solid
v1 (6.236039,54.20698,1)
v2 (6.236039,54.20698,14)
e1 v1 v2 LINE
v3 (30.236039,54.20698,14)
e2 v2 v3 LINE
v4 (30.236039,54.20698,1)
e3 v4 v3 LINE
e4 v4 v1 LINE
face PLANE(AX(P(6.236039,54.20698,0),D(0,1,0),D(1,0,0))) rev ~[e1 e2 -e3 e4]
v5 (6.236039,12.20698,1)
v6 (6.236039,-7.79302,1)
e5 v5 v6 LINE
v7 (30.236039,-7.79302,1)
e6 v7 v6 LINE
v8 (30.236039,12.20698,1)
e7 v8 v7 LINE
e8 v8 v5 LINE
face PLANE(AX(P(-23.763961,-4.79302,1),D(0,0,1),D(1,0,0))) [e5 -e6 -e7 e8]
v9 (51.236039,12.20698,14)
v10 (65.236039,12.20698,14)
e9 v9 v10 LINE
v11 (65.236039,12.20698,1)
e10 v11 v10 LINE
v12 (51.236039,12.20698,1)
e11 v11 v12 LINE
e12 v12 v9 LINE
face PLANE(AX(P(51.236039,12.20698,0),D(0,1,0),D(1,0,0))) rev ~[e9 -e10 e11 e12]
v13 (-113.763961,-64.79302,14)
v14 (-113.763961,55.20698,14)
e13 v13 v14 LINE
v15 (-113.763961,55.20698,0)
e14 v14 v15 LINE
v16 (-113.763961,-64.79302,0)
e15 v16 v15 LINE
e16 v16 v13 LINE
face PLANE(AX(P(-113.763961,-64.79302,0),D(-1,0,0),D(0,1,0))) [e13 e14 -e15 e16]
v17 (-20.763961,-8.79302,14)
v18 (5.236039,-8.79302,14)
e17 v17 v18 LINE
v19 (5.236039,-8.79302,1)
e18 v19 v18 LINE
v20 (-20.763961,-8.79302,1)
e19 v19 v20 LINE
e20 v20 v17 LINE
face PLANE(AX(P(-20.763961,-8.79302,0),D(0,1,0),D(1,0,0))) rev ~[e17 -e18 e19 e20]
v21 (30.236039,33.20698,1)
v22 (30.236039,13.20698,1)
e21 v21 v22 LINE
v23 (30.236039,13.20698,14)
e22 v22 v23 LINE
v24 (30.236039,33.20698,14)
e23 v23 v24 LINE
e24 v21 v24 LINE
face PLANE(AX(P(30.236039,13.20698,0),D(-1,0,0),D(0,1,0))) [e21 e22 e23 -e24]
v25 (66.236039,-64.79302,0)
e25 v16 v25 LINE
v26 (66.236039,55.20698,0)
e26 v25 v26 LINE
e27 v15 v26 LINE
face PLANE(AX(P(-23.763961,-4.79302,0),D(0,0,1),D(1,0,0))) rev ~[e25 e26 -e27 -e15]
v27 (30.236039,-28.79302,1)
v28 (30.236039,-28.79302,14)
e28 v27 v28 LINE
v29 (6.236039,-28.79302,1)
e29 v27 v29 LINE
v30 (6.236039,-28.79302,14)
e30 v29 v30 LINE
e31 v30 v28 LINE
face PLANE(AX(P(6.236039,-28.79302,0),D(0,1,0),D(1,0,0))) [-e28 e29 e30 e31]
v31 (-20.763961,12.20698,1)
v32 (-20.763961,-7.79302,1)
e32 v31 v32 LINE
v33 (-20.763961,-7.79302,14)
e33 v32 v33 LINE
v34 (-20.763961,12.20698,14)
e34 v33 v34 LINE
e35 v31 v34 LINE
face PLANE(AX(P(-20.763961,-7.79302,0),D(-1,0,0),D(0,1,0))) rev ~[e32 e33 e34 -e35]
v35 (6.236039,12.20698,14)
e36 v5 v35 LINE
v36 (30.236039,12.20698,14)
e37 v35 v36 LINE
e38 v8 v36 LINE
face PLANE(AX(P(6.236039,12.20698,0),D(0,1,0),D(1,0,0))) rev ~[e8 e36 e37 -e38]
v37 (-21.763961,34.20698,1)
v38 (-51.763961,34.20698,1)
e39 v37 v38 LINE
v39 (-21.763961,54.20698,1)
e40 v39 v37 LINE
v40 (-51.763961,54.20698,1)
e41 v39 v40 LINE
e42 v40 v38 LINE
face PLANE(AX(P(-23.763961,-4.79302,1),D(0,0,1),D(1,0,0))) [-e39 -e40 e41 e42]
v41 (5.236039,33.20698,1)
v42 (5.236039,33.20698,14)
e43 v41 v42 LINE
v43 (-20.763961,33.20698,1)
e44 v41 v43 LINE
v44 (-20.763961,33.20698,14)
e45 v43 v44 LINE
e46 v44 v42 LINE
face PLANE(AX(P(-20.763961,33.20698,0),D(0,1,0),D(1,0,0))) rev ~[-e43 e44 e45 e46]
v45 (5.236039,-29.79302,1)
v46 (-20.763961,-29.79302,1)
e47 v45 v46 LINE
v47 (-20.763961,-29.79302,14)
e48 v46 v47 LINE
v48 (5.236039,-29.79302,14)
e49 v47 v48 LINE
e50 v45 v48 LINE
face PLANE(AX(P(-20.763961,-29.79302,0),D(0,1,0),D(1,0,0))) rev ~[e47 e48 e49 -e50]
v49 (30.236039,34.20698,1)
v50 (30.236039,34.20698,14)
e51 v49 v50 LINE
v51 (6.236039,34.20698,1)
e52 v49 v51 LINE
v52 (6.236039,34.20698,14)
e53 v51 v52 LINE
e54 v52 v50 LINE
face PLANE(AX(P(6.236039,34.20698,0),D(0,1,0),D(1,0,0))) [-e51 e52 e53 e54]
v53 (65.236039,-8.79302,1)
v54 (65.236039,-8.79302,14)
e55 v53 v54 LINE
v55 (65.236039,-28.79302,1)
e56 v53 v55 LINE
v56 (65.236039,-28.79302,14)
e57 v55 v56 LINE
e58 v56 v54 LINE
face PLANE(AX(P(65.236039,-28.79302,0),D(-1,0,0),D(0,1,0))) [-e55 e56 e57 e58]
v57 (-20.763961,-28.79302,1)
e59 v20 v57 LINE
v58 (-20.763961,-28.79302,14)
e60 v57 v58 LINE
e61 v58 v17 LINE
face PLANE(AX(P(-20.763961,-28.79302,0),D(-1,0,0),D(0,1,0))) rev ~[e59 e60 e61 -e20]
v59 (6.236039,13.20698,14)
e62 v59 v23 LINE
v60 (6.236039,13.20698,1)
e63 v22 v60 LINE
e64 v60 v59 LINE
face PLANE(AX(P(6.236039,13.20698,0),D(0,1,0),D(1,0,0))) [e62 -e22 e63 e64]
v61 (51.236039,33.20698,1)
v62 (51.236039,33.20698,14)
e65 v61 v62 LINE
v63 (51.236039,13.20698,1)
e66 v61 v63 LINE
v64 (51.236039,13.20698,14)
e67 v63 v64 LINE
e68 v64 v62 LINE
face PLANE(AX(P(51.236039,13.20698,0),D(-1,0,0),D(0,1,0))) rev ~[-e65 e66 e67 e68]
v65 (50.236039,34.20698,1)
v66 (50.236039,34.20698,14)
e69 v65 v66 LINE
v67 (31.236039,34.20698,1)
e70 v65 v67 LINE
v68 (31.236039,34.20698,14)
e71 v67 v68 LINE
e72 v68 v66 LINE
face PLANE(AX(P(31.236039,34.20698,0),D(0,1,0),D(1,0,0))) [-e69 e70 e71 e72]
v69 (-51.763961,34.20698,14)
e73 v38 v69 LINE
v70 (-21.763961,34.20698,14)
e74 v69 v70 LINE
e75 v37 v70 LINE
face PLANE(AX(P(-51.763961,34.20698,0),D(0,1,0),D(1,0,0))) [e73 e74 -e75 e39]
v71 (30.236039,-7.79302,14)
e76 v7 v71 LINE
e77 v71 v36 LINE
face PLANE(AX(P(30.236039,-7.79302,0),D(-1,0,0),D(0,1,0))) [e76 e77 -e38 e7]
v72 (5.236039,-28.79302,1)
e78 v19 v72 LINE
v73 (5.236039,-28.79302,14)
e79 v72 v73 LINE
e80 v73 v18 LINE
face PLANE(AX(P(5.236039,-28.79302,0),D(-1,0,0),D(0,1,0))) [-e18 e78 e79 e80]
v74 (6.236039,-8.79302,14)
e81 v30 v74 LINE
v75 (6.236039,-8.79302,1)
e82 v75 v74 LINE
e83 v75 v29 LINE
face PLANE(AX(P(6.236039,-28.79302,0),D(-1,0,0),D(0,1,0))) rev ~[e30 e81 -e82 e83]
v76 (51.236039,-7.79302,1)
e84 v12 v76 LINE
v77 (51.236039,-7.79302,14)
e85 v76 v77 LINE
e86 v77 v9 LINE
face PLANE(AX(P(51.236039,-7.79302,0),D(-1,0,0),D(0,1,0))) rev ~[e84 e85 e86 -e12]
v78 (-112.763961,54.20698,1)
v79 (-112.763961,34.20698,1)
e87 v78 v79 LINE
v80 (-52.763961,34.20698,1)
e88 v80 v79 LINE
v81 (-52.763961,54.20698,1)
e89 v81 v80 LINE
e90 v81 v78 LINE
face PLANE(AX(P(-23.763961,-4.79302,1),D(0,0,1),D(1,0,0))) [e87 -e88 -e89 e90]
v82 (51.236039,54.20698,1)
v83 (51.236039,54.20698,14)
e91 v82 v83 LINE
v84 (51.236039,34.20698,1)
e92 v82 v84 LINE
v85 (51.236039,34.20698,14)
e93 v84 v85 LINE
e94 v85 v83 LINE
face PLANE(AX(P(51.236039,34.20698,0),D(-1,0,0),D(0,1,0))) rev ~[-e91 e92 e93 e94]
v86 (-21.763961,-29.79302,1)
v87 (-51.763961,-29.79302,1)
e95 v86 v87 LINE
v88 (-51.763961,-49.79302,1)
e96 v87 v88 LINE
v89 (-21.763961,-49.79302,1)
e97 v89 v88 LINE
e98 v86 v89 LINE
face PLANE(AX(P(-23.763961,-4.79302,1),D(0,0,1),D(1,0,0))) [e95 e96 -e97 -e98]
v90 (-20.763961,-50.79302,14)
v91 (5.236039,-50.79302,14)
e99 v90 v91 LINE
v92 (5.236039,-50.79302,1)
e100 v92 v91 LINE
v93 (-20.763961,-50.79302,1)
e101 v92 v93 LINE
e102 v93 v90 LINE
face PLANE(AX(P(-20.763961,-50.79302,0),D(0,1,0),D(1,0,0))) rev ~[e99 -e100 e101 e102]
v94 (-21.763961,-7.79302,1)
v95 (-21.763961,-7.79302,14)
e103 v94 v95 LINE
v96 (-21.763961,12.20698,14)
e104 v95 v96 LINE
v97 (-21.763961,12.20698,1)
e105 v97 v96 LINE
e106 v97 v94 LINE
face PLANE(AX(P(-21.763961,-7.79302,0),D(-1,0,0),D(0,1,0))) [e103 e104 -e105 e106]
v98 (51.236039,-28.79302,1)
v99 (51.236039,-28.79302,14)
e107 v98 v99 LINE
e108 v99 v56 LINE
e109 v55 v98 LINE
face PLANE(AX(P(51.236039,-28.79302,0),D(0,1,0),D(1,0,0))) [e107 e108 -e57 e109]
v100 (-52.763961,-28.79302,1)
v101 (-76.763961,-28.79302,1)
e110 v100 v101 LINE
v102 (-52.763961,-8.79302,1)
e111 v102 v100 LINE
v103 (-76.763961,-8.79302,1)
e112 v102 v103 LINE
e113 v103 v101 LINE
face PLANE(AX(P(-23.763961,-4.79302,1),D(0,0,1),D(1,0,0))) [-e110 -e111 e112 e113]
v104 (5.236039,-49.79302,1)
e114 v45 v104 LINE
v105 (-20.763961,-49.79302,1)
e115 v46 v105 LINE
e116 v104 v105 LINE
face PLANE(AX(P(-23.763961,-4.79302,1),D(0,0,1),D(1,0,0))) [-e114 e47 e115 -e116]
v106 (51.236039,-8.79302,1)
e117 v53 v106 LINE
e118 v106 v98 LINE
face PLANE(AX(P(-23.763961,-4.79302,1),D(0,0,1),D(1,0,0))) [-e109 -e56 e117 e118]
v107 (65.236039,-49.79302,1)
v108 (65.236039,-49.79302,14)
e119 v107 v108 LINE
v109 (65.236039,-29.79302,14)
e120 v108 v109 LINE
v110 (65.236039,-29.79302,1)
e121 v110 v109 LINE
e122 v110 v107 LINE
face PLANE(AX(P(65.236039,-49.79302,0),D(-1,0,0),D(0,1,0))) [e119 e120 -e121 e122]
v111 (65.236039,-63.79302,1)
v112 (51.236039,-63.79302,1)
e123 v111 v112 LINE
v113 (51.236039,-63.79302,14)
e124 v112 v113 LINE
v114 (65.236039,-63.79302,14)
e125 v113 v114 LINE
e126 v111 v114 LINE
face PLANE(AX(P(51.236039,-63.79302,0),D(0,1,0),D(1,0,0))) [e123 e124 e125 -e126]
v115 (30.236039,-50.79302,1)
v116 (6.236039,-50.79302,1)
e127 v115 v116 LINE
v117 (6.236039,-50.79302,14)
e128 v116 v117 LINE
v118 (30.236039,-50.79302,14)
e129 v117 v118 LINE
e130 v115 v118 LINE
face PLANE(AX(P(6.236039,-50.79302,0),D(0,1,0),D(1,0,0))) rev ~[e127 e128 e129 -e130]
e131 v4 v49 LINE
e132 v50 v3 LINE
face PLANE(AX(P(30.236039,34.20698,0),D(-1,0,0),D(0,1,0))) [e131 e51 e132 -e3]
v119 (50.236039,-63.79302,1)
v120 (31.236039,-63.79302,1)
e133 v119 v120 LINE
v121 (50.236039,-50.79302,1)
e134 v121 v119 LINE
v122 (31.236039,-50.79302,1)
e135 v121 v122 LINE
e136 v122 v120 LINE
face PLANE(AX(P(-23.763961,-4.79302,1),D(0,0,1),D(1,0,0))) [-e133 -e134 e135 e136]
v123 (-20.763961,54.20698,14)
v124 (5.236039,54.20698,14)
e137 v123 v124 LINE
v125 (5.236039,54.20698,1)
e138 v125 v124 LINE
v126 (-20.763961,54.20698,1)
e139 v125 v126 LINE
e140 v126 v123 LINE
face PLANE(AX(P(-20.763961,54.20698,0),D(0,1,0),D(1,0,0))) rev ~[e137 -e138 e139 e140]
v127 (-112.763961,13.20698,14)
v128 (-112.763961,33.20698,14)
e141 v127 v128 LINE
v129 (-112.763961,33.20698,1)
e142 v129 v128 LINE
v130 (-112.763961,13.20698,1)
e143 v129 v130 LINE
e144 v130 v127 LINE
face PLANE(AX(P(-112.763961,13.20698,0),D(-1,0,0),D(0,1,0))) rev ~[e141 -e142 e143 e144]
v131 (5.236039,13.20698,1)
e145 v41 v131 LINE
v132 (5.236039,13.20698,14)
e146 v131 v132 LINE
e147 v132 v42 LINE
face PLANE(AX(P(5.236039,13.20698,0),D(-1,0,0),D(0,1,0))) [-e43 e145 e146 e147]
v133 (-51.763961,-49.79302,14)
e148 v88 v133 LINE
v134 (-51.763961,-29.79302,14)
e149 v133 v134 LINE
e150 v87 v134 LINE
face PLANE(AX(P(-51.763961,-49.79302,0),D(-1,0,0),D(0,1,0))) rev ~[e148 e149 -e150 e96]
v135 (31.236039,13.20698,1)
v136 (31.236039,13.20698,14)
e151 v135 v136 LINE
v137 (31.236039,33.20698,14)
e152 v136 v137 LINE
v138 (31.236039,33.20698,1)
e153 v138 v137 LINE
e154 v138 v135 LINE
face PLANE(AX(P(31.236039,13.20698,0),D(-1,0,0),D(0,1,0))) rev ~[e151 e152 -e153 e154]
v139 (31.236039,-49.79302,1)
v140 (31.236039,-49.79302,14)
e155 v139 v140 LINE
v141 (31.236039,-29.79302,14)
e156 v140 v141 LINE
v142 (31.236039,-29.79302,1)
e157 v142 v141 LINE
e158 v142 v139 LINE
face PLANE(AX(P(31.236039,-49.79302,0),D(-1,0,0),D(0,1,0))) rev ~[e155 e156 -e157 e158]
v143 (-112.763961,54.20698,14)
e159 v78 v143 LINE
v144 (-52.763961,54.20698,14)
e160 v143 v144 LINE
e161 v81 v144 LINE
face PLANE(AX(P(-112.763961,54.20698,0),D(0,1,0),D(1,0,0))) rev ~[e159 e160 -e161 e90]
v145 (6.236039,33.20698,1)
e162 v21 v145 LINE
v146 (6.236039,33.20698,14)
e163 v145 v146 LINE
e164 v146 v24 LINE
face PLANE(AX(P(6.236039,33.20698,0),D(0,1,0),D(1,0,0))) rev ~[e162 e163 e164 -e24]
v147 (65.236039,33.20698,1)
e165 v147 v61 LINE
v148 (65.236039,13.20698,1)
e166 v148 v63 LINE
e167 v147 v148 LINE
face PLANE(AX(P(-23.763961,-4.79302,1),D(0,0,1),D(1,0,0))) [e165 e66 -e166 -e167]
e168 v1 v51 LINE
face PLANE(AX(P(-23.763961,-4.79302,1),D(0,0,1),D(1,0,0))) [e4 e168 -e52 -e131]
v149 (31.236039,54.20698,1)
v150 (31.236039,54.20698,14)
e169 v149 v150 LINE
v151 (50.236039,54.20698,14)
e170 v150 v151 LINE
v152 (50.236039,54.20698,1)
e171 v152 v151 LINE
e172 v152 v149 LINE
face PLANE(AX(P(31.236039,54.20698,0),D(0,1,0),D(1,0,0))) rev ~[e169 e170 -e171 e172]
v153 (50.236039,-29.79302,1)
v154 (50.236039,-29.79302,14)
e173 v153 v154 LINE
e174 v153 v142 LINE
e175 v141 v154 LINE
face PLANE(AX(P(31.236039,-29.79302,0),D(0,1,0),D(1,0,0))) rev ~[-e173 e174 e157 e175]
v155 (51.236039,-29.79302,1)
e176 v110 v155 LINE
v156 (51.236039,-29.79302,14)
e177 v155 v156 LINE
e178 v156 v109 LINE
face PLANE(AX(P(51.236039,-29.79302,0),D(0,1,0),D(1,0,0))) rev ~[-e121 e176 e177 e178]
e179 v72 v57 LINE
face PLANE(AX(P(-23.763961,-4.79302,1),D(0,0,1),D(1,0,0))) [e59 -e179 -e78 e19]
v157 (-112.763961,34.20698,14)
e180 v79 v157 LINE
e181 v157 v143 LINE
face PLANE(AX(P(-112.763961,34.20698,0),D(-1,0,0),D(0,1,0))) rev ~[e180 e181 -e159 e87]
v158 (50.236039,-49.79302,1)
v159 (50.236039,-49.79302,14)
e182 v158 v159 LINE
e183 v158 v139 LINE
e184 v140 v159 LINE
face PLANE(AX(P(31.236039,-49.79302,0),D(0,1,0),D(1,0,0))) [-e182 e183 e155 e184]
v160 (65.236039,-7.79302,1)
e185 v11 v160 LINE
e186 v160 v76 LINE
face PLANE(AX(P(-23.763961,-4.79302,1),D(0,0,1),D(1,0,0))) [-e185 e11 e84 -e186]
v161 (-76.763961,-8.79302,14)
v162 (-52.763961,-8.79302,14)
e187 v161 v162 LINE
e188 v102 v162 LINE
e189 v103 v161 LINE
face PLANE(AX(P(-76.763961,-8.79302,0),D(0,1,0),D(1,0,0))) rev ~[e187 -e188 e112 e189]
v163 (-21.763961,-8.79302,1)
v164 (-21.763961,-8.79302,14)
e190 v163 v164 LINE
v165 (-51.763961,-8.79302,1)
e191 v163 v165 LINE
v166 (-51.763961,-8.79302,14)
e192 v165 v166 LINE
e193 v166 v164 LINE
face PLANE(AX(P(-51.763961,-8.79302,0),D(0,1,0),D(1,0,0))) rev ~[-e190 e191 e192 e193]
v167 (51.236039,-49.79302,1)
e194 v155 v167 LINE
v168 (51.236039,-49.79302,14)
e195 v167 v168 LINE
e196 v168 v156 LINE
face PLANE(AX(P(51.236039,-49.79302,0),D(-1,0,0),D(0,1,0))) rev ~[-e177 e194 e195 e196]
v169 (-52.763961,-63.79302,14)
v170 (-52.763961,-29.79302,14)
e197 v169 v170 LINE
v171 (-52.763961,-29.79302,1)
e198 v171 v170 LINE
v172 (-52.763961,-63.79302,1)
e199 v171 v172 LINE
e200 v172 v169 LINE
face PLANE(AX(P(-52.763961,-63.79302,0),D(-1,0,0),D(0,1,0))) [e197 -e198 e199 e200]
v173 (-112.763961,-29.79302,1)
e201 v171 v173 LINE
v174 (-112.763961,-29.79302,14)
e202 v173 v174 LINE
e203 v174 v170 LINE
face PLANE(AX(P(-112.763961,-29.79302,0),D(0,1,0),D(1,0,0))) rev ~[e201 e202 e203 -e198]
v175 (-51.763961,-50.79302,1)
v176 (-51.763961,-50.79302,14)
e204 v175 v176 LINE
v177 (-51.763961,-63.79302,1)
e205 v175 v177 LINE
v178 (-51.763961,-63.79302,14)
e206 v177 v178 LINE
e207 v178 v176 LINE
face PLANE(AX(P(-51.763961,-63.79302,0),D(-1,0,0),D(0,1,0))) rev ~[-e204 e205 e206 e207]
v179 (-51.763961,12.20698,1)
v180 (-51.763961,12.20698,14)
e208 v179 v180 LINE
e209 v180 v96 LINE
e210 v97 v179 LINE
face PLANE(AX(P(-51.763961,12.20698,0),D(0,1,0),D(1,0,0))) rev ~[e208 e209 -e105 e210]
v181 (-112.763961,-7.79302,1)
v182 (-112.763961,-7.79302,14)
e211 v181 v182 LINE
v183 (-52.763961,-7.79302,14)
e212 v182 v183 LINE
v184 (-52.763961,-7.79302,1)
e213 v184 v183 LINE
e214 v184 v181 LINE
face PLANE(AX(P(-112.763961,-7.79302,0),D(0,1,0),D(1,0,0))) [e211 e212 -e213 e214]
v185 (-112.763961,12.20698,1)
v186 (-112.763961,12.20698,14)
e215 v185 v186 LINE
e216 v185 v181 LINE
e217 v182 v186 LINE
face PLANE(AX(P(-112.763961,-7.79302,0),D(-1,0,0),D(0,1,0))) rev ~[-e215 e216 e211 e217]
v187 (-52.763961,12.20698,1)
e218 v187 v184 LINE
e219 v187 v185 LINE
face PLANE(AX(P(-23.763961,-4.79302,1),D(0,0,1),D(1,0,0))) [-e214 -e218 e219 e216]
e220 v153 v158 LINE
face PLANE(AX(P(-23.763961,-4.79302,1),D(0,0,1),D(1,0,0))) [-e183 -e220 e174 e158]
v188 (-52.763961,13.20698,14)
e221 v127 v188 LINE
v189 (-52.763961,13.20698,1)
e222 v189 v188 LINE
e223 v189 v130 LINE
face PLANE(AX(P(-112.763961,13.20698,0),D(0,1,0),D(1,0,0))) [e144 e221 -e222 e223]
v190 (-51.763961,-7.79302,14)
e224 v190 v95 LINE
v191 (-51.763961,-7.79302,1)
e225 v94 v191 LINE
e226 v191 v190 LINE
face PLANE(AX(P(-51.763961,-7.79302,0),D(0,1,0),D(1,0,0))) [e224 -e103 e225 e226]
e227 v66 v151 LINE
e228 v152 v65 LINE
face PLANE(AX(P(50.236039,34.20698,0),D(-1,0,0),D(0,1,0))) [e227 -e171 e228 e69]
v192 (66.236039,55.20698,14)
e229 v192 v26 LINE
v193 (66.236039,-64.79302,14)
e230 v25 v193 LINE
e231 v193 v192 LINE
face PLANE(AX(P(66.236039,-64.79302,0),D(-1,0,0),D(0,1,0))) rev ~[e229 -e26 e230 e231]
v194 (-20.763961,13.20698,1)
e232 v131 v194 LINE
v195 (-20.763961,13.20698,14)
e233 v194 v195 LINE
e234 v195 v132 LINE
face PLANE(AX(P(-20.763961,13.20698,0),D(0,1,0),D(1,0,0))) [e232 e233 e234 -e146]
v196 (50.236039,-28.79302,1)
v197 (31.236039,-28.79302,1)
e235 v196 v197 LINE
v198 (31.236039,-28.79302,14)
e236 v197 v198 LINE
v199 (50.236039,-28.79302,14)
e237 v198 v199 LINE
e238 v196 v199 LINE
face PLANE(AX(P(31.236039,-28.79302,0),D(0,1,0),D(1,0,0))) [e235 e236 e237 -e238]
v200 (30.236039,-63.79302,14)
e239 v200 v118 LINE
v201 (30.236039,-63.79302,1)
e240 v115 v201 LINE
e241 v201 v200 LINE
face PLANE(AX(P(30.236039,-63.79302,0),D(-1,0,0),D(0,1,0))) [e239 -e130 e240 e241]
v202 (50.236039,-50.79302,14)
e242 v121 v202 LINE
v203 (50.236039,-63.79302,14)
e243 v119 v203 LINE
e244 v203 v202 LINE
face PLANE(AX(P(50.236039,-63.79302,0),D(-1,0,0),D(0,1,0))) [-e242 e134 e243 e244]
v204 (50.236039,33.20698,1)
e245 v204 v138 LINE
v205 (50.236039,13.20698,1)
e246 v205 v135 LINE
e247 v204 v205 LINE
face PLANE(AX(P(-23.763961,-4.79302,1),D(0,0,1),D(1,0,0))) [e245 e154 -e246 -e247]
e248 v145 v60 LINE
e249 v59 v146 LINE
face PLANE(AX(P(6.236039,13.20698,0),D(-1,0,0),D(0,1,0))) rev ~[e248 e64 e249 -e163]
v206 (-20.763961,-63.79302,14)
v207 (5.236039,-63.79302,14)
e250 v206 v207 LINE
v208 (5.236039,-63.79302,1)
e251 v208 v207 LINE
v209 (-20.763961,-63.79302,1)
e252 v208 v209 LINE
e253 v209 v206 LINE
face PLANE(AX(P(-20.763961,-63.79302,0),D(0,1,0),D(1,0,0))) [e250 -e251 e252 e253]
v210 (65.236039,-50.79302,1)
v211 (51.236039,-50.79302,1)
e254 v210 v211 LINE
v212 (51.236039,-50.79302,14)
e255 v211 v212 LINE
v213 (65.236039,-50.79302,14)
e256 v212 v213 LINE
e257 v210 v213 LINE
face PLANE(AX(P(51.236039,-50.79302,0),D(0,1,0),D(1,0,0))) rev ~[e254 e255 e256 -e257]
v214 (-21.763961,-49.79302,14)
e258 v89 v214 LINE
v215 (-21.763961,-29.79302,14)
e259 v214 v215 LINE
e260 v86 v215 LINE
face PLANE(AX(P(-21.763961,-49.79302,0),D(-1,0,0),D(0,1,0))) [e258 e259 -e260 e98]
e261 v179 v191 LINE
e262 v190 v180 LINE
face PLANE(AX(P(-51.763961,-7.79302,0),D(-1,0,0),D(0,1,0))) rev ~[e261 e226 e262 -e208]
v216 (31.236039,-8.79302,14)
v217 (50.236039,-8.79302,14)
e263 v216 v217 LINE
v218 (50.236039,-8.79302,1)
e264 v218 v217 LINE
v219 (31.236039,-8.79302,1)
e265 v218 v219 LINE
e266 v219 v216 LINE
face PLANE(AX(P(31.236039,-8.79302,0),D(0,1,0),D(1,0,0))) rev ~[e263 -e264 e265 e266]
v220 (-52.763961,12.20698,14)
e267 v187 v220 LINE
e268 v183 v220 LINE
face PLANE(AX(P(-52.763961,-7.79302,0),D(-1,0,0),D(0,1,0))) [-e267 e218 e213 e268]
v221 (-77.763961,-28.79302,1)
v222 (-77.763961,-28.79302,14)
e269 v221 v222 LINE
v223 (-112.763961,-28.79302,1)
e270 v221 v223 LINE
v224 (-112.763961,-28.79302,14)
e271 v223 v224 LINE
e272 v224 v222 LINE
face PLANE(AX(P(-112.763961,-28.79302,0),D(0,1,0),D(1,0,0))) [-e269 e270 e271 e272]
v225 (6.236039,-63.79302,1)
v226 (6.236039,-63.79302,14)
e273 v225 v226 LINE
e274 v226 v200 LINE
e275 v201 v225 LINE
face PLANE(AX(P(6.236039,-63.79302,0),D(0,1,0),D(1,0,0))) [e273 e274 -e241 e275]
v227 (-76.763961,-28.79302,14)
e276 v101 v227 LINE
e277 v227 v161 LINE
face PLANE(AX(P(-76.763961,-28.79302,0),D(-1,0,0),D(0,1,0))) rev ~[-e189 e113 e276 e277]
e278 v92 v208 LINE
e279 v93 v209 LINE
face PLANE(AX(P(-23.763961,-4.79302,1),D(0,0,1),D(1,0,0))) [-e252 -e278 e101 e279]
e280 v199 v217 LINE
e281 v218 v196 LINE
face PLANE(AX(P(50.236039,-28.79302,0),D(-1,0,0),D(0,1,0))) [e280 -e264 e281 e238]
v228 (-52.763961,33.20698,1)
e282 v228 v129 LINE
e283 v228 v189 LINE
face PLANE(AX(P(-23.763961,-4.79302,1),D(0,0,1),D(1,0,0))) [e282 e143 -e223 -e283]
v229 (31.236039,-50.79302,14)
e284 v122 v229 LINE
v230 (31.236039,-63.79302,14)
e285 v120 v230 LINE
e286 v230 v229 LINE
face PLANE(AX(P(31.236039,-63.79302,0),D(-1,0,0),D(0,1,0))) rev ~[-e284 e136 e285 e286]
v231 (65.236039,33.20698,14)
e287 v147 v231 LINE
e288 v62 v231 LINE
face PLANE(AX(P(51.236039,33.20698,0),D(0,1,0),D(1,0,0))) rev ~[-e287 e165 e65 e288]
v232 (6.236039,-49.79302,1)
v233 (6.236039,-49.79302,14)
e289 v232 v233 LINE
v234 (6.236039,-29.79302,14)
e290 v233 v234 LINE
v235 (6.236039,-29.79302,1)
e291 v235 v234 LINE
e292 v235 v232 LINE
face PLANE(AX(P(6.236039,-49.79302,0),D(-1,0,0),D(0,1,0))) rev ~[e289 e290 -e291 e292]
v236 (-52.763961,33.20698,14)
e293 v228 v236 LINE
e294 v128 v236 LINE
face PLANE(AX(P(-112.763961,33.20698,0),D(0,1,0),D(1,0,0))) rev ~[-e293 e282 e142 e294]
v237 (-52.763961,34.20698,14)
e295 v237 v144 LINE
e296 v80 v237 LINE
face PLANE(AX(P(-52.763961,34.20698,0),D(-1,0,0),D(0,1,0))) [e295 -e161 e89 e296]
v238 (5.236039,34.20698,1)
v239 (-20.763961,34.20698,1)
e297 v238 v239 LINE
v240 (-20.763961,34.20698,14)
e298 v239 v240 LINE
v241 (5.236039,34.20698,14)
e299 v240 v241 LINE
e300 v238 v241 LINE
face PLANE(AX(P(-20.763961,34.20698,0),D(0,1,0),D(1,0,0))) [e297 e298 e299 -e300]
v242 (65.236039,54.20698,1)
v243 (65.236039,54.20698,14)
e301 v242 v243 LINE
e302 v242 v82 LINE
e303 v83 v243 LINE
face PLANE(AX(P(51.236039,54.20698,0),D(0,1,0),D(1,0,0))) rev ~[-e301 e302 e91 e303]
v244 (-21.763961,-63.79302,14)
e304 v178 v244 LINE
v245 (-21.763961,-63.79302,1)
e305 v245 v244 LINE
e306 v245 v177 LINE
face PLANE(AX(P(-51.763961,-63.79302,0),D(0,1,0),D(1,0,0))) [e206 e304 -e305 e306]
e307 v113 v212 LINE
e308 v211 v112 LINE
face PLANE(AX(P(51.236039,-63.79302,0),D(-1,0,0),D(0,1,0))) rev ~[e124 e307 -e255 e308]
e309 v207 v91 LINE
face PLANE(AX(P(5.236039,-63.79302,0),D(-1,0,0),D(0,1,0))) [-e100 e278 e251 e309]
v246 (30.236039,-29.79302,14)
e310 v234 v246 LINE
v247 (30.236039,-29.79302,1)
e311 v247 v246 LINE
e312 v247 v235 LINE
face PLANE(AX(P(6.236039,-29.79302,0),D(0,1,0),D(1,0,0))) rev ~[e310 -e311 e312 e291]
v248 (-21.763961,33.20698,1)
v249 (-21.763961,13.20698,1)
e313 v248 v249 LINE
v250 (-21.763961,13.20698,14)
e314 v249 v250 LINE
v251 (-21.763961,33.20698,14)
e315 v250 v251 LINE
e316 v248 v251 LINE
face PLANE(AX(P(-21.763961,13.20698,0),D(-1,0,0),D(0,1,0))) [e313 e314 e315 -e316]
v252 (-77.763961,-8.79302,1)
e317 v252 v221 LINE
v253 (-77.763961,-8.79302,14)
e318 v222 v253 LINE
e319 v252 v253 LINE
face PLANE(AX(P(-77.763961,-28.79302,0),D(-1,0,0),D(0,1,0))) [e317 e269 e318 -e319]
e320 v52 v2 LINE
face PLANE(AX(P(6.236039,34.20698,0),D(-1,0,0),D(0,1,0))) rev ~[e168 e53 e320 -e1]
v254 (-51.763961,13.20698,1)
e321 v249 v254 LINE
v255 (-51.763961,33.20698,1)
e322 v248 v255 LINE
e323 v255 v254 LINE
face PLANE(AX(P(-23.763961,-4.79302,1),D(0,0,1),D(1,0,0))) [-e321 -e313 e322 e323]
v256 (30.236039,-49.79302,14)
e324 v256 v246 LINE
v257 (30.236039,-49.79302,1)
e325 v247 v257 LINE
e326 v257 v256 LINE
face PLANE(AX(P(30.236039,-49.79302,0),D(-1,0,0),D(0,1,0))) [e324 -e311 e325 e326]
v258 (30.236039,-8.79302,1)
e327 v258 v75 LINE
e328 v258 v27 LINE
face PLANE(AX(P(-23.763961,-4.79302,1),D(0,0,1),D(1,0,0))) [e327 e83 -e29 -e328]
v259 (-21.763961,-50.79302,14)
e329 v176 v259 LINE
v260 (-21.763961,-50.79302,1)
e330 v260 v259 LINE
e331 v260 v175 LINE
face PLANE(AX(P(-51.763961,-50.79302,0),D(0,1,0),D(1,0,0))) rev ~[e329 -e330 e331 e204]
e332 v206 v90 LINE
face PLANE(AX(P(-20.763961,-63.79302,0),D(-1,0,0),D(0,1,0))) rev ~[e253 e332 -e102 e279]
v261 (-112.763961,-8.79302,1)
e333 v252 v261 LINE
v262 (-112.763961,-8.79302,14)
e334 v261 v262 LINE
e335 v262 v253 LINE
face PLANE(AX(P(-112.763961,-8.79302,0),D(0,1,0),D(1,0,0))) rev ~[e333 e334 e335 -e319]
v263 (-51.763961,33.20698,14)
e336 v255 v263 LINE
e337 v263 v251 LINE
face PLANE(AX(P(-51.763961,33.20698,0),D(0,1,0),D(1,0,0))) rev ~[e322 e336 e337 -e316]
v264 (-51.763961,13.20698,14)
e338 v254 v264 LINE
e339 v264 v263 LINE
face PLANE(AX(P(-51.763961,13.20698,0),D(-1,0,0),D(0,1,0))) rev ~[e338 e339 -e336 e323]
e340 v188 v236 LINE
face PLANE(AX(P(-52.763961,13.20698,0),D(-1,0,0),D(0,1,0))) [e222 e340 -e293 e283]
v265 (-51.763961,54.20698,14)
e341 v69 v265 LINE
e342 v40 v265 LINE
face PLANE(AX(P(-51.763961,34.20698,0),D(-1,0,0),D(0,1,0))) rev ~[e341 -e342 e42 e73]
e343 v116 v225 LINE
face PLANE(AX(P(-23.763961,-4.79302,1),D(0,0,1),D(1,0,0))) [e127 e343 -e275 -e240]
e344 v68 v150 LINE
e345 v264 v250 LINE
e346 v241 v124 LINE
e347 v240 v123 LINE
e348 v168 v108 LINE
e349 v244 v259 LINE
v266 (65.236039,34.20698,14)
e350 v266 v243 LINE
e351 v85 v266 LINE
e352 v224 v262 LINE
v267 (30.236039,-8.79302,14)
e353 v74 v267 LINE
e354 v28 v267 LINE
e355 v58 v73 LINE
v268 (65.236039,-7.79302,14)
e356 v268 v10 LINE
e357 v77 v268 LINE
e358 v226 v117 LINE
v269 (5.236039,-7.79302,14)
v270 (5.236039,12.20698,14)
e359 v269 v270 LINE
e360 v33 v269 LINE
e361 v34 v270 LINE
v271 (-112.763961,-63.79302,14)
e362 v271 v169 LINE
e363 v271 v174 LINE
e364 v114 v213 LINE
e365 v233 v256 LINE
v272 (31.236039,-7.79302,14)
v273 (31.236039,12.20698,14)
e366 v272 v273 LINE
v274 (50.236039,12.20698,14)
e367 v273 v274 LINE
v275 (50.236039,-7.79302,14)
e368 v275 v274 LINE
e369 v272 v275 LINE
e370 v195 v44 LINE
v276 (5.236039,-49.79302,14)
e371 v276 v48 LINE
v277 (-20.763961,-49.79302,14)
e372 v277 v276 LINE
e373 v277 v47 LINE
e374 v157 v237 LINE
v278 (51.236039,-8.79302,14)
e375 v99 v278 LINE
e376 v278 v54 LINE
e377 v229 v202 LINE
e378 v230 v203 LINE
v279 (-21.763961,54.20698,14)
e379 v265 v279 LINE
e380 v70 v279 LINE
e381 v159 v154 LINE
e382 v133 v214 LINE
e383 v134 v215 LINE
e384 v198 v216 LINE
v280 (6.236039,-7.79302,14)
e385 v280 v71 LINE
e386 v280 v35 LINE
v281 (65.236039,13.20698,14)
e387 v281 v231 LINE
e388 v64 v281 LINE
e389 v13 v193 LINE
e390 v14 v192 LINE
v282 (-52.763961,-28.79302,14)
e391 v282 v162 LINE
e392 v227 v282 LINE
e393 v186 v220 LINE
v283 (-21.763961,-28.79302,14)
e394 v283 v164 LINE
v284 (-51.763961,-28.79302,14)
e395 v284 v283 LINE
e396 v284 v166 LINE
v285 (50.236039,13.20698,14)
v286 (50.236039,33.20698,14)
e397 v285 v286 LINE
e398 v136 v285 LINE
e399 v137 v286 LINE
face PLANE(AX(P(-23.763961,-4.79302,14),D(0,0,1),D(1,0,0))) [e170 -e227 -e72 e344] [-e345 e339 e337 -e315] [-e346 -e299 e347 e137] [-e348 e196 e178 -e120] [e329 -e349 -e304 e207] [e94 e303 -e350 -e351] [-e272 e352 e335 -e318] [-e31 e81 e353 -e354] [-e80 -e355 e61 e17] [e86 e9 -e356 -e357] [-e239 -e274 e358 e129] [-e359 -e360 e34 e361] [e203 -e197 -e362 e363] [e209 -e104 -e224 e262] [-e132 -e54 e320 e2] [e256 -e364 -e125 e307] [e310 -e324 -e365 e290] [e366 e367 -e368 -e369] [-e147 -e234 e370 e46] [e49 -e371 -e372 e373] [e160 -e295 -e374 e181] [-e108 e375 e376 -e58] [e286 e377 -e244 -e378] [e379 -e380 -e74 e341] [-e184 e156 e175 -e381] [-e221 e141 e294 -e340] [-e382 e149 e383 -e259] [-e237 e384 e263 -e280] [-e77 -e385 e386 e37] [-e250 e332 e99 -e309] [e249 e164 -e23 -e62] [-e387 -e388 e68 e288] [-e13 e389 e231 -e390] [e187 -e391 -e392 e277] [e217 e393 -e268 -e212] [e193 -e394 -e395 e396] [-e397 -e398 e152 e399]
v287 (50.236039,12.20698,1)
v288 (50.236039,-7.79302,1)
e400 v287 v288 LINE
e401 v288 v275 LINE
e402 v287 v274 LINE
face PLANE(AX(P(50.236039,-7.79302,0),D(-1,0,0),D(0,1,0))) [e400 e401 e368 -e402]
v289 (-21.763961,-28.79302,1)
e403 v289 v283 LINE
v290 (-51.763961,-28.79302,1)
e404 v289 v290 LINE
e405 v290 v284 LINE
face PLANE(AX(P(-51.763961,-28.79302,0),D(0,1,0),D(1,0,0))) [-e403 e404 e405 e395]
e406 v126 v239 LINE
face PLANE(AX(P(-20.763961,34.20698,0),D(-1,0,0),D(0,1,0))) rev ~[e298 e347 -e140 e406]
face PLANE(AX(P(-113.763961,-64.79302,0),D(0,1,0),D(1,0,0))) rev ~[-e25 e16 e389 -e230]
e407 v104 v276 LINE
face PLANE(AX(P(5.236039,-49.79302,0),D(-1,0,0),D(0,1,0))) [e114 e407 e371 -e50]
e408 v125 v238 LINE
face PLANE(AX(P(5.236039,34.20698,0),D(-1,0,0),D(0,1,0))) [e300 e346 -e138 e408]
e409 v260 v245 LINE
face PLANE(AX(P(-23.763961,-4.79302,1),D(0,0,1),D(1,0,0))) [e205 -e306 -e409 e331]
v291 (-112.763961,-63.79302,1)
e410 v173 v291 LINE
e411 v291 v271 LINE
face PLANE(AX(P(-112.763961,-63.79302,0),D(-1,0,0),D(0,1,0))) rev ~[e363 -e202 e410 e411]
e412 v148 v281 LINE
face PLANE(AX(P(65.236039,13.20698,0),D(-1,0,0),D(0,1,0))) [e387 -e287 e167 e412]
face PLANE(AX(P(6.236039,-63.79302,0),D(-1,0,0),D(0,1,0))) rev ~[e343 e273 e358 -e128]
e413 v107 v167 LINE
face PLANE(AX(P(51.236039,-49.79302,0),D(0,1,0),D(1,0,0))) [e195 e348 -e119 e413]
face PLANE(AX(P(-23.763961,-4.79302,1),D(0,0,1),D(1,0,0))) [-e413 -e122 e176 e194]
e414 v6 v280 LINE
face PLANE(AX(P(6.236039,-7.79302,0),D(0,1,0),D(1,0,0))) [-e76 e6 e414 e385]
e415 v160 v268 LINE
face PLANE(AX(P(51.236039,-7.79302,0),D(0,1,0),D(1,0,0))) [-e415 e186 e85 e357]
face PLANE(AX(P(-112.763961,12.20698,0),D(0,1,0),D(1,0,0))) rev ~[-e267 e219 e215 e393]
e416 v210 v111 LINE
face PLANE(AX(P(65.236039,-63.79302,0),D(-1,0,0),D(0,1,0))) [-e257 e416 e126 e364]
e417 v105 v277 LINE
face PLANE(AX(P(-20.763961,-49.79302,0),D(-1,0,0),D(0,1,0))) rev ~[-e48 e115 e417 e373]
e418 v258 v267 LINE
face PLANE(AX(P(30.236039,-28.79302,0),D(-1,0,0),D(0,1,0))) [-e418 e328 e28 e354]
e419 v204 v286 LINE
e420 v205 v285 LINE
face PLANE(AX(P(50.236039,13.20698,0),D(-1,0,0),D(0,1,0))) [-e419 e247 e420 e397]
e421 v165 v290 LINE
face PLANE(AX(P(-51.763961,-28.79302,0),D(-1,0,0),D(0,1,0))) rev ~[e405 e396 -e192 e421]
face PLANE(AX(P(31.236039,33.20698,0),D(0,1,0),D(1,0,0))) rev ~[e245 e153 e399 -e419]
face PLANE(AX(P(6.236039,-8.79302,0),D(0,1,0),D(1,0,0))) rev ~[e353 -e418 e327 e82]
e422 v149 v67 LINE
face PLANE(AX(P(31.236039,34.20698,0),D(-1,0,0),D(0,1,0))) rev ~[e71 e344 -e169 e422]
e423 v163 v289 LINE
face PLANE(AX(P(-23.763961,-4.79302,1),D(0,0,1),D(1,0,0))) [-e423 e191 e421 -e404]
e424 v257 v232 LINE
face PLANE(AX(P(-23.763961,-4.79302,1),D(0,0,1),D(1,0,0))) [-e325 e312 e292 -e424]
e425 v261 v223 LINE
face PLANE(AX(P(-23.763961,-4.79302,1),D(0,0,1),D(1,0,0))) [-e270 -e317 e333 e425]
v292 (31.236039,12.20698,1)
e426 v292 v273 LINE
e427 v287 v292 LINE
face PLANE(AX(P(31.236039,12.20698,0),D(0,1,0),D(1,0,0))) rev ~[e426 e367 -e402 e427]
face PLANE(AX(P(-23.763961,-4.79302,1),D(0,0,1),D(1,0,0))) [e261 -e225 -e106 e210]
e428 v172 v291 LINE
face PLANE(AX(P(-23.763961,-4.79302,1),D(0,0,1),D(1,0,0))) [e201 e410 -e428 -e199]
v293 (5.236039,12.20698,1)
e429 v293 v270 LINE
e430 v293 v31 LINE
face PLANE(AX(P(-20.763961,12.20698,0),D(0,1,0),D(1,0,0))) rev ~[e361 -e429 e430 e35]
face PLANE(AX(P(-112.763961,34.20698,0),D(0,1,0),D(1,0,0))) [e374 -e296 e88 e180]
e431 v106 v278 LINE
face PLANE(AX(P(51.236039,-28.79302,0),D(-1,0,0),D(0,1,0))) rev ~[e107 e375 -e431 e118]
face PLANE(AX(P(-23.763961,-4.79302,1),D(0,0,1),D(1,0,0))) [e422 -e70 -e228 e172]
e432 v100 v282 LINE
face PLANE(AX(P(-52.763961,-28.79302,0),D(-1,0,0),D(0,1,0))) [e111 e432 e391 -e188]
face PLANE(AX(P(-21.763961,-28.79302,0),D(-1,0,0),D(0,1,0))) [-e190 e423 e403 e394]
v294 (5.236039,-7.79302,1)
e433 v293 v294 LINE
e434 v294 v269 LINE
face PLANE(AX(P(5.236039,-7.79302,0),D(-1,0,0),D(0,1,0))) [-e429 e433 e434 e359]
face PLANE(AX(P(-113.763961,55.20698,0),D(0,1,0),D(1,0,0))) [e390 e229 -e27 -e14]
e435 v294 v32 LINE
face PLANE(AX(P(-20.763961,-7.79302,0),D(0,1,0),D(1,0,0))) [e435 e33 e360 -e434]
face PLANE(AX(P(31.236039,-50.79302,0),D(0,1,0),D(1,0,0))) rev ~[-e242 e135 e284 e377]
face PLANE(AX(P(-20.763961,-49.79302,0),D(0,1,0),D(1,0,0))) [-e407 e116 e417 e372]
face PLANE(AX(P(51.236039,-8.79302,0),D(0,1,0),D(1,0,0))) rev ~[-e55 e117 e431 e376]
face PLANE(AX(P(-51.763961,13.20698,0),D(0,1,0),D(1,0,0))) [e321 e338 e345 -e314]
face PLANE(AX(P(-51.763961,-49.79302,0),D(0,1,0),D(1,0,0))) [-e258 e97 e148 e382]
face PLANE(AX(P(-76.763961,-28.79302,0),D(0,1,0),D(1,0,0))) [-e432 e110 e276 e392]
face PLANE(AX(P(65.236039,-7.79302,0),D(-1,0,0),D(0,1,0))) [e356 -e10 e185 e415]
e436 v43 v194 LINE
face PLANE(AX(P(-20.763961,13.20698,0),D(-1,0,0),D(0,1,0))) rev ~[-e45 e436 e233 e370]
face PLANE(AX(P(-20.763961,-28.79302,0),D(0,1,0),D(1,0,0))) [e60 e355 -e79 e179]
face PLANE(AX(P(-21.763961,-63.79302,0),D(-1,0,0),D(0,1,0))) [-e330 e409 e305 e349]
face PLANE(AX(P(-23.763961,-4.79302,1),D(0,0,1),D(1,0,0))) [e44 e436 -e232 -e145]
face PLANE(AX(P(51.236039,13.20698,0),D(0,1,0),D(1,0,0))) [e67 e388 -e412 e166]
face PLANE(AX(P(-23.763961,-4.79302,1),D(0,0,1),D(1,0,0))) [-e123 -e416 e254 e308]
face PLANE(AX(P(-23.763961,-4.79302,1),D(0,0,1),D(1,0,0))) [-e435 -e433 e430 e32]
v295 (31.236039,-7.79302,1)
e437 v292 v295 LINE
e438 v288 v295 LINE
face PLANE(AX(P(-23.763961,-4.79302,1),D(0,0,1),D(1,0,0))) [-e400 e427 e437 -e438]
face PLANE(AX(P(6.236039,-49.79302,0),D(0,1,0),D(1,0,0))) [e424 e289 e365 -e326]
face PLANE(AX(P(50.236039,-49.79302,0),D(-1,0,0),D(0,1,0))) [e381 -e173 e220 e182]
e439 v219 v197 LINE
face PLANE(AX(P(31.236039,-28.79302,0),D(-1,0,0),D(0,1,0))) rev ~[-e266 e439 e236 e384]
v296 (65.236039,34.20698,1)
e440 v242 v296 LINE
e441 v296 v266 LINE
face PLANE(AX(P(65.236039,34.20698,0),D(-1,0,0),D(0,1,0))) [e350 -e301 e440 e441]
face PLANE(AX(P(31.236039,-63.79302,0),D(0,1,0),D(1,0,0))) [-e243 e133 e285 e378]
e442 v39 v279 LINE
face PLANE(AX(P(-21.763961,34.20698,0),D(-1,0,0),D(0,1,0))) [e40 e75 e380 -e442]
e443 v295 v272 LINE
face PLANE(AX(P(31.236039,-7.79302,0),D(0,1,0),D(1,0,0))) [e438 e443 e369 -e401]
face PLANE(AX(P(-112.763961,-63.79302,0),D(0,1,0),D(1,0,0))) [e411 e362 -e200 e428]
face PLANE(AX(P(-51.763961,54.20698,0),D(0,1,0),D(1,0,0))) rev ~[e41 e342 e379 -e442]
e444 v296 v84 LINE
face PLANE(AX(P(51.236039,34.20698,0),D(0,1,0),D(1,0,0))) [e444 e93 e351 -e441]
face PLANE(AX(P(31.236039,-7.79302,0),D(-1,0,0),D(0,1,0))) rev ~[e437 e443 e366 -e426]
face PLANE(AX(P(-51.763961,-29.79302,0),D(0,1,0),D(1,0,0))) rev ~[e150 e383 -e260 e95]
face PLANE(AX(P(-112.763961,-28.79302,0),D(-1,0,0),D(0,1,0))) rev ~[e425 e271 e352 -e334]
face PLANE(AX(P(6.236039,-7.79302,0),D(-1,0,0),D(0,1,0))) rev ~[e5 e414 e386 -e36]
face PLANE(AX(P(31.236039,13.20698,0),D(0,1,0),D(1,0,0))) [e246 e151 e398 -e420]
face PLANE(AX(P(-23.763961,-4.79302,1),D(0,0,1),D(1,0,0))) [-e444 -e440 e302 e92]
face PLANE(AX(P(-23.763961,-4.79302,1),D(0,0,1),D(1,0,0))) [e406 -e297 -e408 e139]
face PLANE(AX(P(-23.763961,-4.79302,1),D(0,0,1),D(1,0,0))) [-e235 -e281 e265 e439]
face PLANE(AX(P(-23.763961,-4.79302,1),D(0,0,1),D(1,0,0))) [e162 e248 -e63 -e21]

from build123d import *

# Parameters (mm, degrees)
F0_W     = 180
F0_H     = 120
F1_DEPTH = 1
F2_W     = 180
F2_H     = 120
F2_W_2   = 60
F2_H_2   = 34
F2_W_3   = 30
F2_H_3   = 13
F2_H_4   = 20
F2_W_4   = 35
F2_W_5   = 24
F2_W_6   = 26
F2_W_7   = 19
F2_W_8   = 14
F3_DEPTH = 14


with BuildPart() as f1:
    # F0 (on Top) → F1 (new body)
    with BuildSketch(Plane.XY):
        with Locations((-23.763961, -4.79302)):
            Rectangle(F0_W, F0_H)
    extrude(amount=F1_DEPTH)

    # F2 (on Top) → F3 (join)
    with BuildSketch(Plane.XY):
        with Locations((-23.763961, -4.79302)):
            Rectangle(F2_W, F2_H)
        with Locations((-82.763961, -46.79302)):
            Rectangle(F2_W_2, F2_H_2, mode=Mode.SUBTRACT)
        with Locations((-36.763961, -57.29302)):
            Rectangle(F2_W_3, F2_H_3, mode=Mode.SUBTRACT)
        with Locations((-36.763961, -39.79302)):
            Rectangle(F2_W_3, F2_H_4, mode=Mode.SUBTRACT)
        with Locations((-95.263961, -18.79302)):
            Rectangle(F2_W_4, F2_H_4, mode=Mode.SUBTRACT)
        with Locations((-64.763961, -18.79302)):
            Rectangle(F2_W_5, F2_H_4, mode=Mode.SUBTRACT)
        with Locations((-36.763961, -18.79302)):
            Rectangle(F2_W_3, F2_H_4, mode=Mode.SUBTRACT)
        with Locations((-7.763961, -57.29302)):
            Rectangle(F2_W_6, F2_H_3, mode=Mode.SUBTRACT)
        with Locations((18.236039, -57.29302)):
            Rectangle(F2_W_5, F2_H_3, mode=Mode.SUBTRACT)
        with Locations((-7.763961, -39.79302)):
            Rectangle(F2_W_6, F2_H_4, mode=Mode.SUBTRACT)
        with Locations((18.236039, -39.79302)):
            Rectangle(F2_W_5, F2_H_4, mode=Mode.SUBTRACT)
        with Locations((40.736039, -57.29302)):
            Rectangle(F2_W_7, F2_H_3, mode=Mode.SUBTRACT)
        with Locations((58.236039, -57.29302)):
            Rectangle(F2_W_8, F2_H_3, mode=Mode.SUBTRACT)
        with Locations((40.736039, -39.79302)):
            Rectangle(F2_W_7, F2_H_4, mode=Mode.SUBTRACT)
        with Locations((58.236039, -39.79302)):
            Rectangle(F2_W_8, F2_H_4, mode=Mode.SUBTRACT)
        with Locations((-7.763961, -18.79302)):
            Rectangle(F2_W_6, F2_H_4, mode=Mode.SUBTRACT)
        with Locations((18.236039, -18.79302)):
            Rectangle(F2_W_5, F2_H_4, mode=Mode.SUBTRACT)
        with Locations((40.736039, -18.79302)):
            Rectangle(F2_W_7, F2_H_4, mode=Mode.SUBTRACT)
        with Locations((58.236039, -18.79302)):
            Rectangle(F2_W_8, F2_H_4, mode=Mode.SUBTRACT)
        with Locations((-82.763961, 2.20698)):
            Rectangle(F2_W_2, F2_H_4, mode=Mode.SUBTRACT)
        with Locations((-82.763961, 23.20698)):
            Rectangle(F2_W_2, F2_H_4, mode=Mode.SUBTRACT)
        with Locations((-36.763961, 2.20698)):
            Rectangle(F2_W_3, F2_H_4, mode=Mode.SUBTRACT)
        with Locations((-36.763961, 23.20698)):
            Rectangle(F2_W_3, F2_H_4, mode=Mode.SUBTRACT)
        with Locations((-82.763961, 44.20698)):
            Rectangle(F2_W_2, F2_H_4, mode=Mode.SUBTRACT)
        with Locations((-36.763961, 44.20698)):
            Rectangle(F2_W_3, F2_H_4, mode=Mode.SUBTRACT)
        with Locations((-7.763961, 2.20698)):
            Rectangle(F2_W_6, F2_H_4, mode=Mode.SUBTRACT)
        with Locations((18.236039, 2.20698)):
            Rectangle(F2_W_5, F2_H_4, mode=Mode.SUBTRACT)
        with Locations((-7.763961, 23.20698)):
            Rectangle(F2_W_6, F2_H_4, mode=Mode.SUBTRACT)
        with Locations((18.236039, 23.20698)):
            Rectangle(F2_W_5, F2_H_4, mode=Mode.SUBTRACT)
        with Locations((40.736039, 2.20698)):
            Rectangle(F2_W_7, F2_H_4, mode=Mode.SUBTRACT)
        with Locations((58.236039, 2.20698)):
            Rectangle(F2_W_8, F2_H_4, mode=Mode.SUBTRACT)
        with Locations((40.736039, 23.20698)):
            Rectangle(F2_W_7, F2_H_4, mode=Mode.SUBTRACT)
        with Locations((58.236039, 23.20698)):
            Rectangle(F2_W_8, F2_H_4, mode=Mode.SUBTRACT)
        with Locations((-7.763961, 44.20698)):
            Rectangle(F2_W_6, F2_H_4, mode=Mode.SUBTRACT)
        with Locations((18.236039, 44.20698)):
            Rectangle(F2_W_5, F2_H_4, mode=Mode.SUBTRACT)
        with Locations((40.736039, 44.20698)):
            Rectangle(F2_W_7, F2_H_4, mode=Mode.SUBTRACT)
        with Locations((58.236039, 44.20698)):
            Rectangle(F2_W_8, F2_H_4, mode=Mode.SUBTRACT)
    extrude(amount=F3_DEPTH)


solid = f1.part
